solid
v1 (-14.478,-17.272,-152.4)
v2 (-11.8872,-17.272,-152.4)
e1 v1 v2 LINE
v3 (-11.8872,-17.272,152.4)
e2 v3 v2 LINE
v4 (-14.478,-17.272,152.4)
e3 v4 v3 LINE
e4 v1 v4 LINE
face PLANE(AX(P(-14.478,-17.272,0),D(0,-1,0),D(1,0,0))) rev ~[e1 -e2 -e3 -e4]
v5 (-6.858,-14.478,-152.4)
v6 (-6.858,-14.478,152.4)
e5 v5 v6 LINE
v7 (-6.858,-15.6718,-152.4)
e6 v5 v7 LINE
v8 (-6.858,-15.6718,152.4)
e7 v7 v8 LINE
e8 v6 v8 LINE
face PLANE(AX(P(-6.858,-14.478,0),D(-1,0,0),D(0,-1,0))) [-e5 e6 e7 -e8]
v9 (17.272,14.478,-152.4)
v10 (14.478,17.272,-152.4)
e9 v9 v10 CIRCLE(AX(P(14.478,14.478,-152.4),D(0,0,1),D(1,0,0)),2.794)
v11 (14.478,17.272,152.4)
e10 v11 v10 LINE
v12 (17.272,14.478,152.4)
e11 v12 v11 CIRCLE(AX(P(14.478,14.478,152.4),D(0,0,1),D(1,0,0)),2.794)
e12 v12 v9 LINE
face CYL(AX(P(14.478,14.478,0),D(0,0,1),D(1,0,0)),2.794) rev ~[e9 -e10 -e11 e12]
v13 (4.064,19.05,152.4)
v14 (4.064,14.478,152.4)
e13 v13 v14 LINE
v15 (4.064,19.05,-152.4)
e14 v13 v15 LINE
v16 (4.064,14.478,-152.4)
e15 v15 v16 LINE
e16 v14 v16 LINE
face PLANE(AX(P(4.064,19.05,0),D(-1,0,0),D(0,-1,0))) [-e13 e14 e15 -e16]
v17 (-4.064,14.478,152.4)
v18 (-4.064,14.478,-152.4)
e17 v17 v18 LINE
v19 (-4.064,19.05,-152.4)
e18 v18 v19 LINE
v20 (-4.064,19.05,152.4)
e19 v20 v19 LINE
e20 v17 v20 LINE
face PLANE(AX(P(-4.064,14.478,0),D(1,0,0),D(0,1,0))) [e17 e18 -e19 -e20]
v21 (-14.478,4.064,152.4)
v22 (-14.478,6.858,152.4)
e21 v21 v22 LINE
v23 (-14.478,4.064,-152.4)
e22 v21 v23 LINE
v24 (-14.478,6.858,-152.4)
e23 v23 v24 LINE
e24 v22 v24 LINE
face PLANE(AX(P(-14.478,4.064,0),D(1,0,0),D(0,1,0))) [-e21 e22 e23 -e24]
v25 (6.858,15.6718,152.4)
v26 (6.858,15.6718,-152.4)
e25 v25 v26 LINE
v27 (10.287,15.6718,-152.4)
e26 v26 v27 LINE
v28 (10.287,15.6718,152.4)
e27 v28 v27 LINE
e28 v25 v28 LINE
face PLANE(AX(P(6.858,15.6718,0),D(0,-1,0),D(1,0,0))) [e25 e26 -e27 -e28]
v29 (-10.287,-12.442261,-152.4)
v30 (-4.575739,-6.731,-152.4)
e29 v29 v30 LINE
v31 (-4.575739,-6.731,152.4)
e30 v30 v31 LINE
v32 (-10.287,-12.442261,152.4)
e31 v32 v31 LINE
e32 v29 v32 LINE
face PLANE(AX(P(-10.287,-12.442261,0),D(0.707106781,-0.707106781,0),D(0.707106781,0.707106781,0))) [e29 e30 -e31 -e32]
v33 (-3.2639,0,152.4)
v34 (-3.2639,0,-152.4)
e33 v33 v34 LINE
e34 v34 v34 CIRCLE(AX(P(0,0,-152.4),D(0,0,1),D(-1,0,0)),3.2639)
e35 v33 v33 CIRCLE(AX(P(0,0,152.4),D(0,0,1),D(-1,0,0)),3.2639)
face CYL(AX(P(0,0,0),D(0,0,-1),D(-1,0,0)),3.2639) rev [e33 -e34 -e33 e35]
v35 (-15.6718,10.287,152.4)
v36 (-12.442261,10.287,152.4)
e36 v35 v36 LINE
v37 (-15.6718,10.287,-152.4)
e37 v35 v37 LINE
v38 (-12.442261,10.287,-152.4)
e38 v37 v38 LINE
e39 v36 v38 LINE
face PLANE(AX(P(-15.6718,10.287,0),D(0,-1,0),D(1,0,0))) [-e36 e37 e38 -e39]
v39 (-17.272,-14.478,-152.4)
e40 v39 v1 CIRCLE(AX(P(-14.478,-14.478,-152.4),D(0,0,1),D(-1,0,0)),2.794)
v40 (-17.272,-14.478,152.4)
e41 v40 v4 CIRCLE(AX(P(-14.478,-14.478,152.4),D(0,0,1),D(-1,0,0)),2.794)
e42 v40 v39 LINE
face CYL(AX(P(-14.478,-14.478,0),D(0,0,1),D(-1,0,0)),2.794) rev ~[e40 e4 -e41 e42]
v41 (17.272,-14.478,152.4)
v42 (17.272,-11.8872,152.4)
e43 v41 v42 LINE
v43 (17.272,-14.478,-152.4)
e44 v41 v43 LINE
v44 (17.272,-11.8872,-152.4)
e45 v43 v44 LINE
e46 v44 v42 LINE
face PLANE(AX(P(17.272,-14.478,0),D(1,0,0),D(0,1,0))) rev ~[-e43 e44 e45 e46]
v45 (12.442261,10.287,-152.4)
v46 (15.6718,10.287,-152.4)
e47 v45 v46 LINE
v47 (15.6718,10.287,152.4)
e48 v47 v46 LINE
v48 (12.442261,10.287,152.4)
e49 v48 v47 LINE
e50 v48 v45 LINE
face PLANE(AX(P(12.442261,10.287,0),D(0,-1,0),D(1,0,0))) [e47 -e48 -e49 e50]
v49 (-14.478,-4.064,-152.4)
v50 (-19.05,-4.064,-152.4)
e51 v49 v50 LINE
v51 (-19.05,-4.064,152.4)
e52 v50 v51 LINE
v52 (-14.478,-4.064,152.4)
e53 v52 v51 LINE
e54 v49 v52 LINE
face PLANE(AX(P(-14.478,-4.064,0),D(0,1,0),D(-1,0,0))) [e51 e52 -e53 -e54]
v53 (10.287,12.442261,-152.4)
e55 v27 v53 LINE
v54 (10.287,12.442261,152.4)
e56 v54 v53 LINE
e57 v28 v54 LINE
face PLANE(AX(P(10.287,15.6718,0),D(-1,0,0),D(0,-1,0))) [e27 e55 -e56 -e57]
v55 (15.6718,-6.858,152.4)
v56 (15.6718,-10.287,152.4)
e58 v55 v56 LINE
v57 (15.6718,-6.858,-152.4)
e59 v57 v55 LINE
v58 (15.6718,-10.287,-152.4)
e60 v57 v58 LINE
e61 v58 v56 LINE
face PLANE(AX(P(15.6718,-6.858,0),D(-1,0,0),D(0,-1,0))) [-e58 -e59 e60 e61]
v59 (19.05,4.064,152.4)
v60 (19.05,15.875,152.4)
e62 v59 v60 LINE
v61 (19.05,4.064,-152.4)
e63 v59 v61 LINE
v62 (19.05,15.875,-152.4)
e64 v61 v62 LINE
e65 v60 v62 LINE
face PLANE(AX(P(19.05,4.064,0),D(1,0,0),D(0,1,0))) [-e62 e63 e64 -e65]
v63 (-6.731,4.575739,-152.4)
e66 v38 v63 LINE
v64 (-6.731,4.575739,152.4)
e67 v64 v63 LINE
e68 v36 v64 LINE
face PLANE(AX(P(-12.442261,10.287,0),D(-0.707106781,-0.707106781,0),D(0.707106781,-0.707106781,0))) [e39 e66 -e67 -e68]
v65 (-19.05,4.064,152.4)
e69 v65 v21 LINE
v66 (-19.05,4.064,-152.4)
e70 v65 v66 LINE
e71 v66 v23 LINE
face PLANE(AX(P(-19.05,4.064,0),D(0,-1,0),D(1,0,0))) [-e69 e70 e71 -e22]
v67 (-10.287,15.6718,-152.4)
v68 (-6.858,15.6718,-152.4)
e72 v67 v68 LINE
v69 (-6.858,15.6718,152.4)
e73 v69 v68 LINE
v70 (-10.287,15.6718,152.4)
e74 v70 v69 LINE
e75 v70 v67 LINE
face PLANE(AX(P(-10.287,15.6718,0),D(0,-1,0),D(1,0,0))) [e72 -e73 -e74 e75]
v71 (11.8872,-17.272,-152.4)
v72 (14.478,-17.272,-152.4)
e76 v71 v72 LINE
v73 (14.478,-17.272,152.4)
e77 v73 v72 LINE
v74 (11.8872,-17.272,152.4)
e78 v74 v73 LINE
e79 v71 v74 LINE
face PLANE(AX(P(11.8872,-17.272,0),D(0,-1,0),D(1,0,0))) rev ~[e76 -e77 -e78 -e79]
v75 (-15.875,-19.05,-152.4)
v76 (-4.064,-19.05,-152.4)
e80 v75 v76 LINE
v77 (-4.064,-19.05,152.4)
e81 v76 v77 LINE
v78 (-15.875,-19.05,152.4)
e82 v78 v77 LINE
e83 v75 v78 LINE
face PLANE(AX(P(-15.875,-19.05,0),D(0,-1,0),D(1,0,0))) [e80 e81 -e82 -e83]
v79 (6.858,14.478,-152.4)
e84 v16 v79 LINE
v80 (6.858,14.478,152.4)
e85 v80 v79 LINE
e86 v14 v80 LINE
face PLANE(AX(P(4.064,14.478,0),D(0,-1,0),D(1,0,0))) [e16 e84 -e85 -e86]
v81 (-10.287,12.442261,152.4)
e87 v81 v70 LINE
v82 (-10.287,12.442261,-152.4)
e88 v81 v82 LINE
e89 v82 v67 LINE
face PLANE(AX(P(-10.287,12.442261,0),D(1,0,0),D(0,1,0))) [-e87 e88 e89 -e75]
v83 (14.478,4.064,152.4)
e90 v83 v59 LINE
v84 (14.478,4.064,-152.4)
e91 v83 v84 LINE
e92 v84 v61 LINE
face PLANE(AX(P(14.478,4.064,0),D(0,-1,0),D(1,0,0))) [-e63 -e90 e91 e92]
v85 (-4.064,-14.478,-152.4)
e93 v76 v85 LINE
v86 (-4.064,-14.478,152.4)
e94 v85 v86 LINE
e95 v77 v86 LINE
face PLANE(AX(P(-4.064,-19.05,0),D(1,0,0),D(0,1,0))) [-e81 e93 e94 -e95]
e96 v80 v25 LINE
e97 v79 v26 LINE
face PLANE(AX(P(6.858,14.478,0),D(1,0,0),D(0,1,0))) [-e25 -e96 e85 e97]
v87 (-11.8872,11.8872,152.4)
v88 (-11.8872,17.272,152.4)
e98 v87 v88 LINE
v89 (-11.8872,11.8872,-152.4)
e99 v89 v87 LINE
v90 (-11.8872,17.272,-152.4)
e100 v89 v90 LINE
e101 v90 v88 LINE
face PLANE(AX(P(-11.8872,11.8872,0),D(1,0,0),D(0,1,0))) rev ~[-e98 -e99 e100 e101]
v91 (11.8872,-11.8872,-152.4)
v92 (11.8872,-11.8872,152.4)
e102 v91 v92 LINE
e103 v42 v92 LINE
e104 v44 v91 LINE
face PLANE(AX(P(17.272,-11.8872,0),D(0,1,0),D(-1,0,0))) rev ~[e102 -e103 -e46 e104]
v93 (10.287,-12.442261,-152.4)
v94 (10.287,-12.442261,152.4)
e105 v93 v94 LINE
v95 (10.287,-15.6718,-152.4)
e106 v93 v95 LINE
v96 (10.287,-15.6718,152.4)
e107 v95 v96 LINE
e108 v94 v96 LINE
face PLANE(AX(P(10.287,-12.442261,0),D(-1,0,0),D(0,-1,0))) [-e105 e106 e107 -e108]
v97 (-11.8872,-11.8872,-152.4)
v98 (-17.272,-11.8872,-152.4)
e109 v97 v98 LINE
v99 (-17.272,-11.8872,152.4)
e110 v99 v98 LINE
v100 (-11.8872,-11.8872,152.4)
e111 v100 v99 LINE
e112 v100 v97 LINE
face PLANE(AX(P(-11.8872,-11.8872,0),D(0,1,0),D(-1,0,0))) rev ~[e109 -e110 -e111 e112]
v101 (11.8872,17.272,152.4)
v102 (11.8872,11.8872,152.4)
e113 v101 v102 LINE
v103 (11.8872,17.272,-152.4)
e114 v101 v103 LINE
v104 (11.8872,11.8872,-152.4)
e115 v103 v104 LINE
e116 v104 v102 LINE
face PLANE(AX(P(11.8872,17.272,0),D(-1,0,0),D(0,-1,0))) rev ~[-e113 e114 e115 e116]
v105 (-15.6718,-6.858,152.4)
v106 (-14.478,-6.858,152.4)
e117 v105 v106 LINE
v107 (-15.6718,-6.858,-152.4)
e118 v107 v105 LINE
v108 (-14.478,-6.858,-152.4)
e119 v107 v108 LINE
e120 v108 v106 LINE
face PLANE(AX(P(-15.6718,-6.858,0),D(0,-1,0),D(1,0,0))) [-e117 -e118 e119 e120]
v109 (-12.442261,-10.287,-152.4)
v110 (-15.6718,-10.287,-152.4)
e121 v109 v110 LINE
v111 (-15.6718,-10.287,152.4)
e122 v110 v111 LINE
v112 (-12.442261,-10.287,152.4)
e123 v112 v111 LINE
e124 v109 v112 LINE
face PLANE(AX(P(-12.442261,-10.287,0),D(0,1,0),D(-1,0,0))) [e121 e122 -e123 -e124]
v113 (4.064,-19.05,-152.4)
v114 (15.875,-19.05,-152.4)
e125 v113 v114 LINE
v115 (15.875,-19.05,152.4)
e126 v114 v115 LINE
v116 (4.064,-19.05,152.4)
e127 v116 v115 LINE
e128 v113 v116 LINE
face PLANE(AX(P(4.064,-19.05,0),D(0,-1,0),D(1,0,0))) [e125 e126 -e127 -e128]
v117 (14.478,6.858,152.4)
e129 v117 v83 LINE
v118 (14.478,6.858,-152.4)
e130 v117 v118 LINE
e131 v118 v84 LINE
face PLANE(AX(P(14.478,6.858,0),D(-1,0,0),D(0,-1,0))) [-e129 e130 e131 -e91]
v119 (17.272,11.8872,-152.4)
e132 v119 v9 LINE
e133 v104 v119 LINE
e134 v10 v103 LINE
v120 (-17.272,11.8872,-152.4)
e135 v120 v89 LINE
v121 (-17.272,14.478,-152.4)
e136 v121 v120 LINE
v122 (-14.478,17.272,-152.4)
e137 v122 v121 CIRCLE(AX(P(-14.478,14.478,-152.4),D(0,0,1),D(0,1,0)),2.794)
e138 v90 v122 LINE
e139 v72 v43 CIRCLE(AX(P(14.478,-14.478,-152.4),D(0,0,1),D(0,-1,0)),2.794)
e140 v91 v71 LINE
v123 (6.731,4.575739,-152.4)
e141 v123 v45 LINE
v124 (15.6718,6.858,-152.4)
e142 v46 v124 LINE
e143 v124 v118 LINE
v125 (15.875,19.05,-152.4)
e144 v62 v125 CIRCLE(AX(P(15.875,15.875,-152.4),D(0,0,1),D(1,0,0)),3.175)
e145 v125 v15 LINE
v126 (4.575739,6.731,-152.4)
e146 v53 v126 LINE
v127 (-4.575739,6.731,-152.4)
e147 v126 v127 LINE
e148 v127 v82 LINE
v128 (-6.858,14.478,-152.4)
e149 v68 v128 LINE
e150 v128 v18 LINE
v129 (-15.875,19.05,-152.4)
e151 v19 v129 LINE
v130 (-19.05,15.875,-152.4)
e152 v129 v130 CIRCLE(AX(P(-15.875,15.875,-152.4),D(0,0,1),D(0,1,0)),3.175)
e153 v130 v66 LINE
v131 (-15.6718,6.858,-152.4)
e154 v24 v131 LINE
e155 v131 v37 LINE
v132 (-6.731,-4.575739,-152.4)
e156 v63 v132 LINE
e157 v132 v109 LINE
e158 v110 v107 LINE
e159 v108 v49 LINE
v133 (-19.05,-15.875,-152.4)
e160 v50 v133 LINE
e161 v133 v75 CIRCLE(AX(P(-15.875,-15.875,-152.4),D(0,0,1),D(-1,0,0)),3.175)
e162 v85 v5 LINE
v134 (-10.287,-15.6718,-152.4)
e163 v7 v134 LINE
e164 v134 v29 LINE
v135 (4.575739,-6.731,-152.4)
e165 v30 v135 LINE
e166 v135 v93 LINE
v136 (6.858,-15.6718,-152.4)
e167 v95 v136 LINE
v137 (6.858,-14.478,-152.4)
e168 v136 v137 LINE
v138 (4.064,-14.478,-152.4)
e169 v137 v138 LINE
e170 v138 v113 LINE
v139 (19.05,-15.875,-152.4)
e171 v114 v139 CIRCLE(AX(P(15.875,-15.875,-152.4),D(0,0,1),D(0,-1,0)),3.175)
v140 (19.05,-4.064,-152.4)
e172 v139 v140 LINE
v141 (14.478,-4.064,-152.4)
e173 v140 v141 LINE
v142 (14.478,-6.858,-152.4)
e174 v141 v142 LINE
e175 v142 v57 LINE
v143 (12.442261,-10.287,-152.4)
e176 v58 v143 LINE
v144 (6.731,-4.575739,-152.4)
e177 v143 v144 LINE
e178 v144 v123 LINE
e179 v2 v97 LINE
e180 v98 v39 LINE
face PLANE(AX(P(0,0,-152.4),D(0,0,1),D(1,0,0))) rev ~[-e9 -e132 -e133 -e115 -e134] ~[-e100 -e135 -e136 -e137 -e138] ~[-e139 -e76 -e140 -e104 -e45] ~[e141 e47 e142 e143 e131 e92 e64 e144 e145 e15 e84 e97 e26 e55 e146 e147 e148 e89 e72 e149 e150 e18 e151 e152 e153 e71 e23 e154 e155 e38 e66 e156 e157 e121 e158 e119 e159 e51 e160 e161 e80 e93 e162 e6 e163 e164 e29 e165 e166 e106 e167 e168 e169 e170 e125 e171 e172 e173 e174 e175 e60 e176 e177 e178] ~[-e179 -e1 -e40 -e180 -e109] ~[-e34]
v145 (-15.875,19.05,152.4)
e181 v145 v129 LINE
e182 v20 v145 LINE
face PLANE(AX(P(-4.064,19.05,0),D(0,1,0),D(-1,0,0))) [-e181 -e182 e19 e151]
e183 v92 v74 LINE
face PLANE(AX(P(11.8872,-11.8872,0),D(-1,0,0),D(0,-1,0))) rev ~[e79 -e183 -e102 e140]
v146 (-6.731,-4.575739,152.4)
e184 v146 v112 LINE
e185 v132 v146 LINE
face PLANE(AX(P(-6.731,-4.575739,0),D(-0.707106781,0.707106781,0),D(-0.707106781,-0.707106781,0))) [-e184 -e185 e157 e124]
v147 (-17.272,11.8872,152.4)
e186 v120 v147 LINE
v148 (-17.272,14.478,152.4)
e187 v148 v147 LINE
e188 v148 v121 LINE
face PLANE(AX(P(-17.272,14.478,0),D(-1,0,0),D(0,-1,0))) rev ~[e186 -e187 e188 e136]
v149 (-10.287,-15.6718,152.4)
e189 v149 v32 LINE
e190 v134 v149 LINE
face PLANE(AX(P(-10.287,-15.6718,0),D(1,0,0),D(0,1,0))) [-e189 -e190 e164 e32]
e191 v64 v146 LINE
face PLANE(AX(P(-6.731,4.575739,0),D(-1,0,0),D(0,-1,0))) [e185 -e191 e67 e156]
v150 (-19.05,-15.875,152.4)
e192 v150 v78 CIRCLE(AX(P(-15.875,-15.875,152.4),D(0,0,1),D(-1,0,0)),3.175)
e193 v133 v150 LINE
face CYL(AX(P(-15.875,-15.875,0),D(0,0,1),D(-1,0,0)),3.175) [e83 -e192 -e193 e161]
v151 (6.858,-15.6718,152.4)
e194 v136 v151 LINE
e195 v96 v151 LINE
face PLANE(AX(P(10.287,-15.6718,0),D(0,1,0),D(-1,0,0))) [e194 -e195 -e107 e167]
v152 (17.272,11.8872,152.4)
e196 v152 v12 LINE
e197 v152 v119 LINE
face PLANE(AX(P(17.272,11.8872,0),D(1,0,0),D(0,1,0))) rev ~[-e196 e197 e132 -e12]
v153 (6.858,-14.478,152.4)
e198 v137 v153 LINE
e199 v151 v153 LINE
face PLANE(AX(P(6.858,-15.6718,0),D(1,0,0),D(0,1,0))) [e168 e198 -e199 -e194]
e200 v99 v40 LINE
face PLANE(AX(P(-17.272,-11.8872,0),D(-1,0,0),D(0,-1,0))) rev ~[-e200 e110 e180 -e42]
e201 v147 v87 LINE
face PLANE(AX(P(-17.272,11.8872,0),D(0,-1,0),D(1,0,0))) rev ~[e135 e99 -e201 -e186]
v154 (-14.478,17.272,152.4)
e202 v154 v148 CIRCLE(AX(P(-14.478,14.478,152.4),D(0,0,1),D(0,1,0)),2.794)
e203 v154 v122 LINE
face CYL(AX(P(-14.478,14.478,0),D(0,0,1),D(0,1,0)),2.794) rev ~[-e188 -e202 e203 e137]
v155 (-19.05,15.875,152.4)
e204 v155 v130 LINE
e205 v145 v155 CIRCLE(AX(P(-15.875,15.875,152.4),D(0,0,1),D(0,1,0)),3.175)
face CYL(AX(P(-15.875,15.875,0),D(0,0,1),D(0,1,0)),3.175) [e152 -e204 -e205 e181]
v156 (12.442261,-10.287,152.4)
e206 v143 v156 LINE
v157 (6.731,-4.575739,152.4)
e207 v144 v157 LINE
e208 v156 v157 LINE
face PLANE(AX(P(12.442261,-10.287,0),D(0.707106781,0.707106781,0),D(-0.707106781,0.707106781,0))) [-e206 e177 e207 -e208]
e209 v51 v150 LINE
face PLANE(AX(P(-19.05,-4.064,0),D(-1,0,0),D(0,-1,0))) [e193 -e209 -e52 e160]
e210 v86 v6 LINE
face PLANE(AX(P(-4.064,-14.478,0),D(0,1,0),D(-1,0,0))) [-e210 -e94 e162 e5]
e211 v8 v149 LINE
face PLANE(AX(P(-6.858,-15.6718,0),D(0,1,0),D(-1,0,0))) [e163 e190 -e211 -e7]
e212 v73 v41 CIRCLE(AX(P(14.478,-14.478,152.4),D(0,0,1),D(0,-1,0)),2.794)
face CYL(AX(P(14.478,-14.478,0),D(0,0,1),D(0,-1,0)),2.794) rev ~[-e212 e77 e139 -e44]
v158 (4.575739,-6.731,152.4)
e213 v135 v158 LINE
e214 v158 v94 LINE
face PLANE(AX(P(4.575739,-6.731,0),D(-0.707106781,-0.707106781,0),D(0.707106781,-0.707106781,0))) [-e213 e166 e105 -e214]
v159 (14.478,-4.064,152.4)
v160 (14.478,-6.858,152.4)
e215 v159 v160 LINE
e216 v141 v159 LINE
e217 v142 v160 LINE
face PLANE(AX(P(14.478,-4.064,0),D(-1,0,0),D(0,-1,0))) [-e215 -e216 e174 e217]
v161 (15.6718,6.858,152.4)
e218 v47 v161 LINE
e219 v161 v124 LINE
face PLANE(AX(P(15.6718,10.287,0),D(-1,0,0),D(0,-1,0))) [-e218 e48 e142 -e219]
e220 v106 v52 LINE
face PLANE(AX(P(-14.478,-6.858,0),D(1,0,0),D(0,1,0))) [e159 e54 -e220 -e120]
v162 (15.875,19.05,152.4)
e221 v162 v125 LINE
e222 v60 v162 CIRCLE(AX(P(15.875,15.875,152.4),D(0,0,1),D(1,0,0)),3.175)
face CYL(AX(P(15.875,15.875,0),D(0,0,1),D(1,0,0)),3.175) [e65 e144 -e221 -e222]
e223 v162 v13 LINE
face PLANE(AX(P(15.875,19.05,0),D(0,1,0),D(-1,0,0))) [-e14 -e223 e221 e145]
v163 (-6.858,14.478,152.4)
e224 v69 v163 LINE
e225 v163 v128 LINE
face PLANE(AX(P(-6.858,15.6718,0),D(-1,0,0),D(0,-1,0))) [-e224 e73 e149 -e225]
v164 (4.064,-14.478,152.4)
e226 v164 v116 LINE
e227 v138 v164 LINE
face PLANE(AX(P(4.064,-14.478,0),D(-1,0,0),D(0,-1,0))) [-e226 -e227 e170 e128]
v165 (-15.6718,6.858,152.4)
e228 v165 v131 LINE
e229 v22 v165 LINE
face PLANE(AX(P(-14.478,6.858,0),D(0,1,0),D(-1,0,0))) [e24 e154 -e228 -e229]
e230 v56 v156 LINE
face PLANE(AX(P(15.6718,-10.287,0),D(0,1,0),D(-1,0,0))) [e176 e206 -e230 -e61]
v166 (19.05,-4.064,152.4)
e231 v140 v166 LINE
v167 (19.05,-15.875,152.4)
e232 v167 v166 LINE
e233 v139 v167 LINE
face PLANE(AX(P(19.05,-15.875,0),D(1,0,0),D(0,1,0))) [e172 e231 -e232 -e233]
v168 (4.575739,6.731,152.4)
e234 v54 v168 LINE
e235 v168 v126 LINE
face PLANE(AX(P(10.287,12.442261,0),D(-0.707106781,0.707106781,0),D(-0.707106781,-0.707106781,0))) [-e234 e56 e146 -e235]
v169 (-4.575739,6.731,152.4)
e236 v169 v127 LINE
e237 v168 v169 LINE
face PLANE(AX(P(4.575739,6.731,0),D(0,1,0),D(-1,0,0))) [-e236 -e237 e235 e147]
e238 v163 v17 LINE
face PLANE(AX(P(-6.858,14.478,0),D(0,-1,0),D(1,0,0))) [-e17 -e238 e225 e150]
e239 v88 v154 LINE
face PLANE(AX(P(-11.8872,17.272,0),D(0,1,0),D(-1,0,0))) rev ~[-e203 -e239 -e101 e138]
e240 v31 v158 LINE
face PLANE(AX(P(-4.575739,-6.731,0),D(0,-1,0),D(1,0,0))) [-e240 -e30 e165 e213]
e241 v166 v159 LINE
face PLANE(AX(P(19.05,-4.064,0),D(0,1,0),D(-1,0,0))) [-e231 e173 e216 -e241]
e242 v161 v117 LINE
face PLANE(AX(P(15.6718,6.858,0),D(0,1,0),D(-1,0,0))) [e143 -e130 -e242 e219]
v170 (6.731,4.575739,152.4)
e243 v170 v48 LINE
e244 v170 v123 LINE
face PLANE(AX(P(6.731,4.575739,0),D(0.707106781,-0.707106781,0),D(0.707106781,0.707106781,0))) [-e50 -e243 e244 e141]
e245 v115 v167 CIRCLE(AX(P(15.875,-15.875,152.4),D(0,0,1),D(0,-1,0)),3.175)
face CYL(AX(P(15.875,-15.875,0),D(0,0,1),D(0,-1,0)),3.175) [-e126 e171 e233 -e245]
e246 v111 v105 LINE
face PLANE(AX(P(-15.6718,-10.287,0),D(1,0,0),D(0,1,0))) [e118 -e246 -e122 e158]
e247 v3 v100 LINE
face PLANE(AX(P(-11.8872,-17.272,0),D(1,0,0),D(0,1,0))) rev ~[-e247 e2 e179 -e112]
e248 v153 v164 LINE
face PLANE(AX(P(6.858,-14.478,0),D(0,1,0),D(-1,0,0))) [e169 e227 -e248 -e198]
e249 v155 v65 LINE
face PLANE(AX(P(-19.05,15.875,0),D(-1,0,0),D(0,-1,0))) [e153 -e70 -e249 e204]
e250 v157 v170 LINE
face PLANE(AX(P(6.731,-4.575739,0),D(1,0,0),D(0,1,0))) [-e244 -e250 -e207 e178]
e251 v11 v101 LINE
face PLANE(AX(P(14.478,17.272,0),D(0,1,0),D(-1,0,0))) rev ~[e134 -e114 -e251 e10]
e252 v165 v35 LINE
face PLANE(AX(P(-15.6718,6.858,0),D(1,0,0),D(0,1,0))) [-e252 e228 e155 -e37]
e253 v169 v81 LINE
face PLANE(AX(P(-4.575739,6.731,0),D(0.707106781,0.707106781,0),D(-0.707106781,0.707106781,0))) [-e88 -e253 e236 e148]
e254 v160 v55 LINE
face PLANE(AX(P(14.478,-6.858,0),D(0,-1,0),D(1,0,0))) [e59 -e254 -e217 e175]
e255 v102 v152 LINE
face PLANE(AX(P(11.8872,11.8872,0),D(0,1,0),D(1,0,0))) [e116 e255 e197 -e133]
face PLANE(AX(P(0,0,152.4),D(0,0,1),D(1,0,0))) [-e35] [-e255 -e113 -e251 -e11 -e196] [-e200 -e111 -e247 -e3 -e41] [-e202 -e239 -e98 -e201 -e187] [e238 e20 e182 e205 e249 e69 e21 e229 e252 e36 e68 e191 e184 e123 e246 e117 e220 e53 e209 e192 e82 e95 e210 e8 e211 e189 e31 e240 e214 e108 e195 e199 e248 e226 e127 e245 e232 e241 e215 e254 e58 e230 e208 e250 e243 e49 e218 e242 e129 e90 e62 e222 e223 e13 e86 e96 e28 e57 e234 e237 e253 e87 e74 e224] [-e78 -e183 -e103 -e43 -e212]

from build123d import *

# Parameters (mm, degrees)
SKETCH1_R           = 3.2639
BOSS_EXTRUDE1_DEPTH = 152.4


with BuildPart() as part:
    # Sketch1 → Boss-Extrude1 (new, symmetric)
    with BuildSketch(Plane.XY):
        with BuildLine():
            Line((-6.731, 4.575738531), (-6.731, -4.575738531))
            Line((-6.731, -4.575738531), (-12.442261469, -10.287))
            Line((-12.442261469, -10.287), (-15.6718, -10.287))
            Line((-15.6718, -10.287), (-15.6718, -6.858))
            Line((-15.6718, -6.858), (-14.478, -6.858))
            Line((-14.478, -6.858), (-14.478, -4.064))
            Line((-14.478, -4.064), (-19.05, -4.064))
            Line((-19.05, -4.064), (-19.05, -15.875))
            ThreePointArc((-19.05, -15.875), (-18.12006403, -18.12006403), (-15.875, -19.05))
            Line((-15.875, -19.05), (-4.064, -19.05))
            Line((-4.064, -19.05), (-4.064, -14.478))
            Line((-4.064, -14.478), (-6.858, -14.478))
            Line((-6.858, -14.478), (-6.858, -15.6718))
            Line((-6.858, -15.6718), (-10.287, -15.6718))
            Line((-10.287, -15.6718), (-10.287, -12.442261469))
            Line((-10.287, -12.442261469), (-4.575738531, -6.731))
            Line((-4.575738531, -6.731), (4.575738531, -6.731))
            Line((4.575738531, -6.731), (10.287, -12.442261469))
            Line((10.287, -12.442261469), (10.287, -15.6718))
            Line((10.287, -15.6718), (6.858, -15.6718))
            Line((6.858, -15.6718), (6.858, -14.478))
            Line((6.858, -14.478), (4.064, -14.478))
            Line((4.064, -14.478), (4.064, -19.05))
            Line((4.064, -19.05), (15.875, -19.05))
            ThreePointArc((15.875, -19.05), (18.12006403, -18.12006403), (19.05, -15.875))
            Line((19.05, -15.875), (19.05, -4.064))
            Line((19.05, -4.064), (14.478, -4.064))
            Line((14.478, -4.064), (14.478, -6.858))
            Line((14.478, -6.858), (15.6718, -6.858))
            Line((15.6718, -6.858), (15.6718, -10.287))
            Line((15.6718, -10.287), (12.442261469, -10.287))
            Line((12.442261469, -10.287), (6.731, -4.575738531))
            Line((6.731, -4.575738531), (6.731, 4.575738531))
            Line((6.731, 4.575738531), (12.442261469, 10.287))
            Line((12.442261469, 10.287), (15.6718, 10.287))
            Line((15.6718, 10.287), (15.6718, 6.858))
            Line((15.6718, 6.858), (14.478, 6.858))
            Line((14.478, 6.858), (14.478, 4.064))
            Line((14.478, 4.064), (19.05, 4.064))
            Line((19.05, 4.064), (19.05, 15.875))
            ThreePointArc((19.05, 15.875), (18.12006403, 18.12006403), (15.875, 19.05))
            Line((15.875, 19.05), (4.064, 19.05))
            Line((4.064, 19.05), (4.064, 14.478))
            Line((4.064, 14.478), (6.858, 14.478))
            Line((6.858, 14.478), (6.858, 15.6718))
            Line((6.858, 15.6718), (10.287, 15.6718))
            Line((10.287, 15.6718), (10.287, 12.442261469))
            Line((10.287, 12.442261469), (4.575738531, 6.731))
            Line((4.575738531, 6.731), (-4.575738531, 6.731))
            Line((-4.575738531, 6.731), (-10.287, 12.442261469))
            Line((-10.287, 12.442261469), (-10.287, 15.6718))
            Line((-10.287, 15.6718), (-6.858, 15.6718))
            Line((-6.858, 15.6718), (-6.858, 14.478))
            Line((-6.858, 14.478), (-4.064, 14.478))
            Line((-4.064, 14.478), (-4.064, 19.05))
            Line((-4.064, 19.05), (-15.875, 19.05))
            ThreePointArc((-15.875, 19.05), (-18.12006403, 18.12006403), (-19.05, 15.875))
            Line((-19.05, 15.875), (-19.05, 4.064))
            Line((-19.05, 4.064), (-14.478, 4.064))
            Line((-14.478, 4.064), (-14.478, 6.858))
            Line((-14.478, 6.858), (-15.6718, 6.858))
            Line((-15.6718, 6.858), (-15.6718, 10.287))
            Line((-15.6718, 10.287), (-12.442261469, 10.287))
            Line((-12.442261469, 10.287), (-6.731, 4.575738531))
        make_face()
        with Locations(Location((0, 0, 0), (0, 0, 180))):
            Circle(SKETCH1_R, mode=Mode.SUBTRACT)
        with BuildLine():
            Line((-11.8872, 17.272), (-14.478, 17.272))
            ThreePointArc((-14.478, 17.272), (-16.453656347, 16.453656347), (-17.272, 14.478))
            Line((-17.272, 14.478), (-17.272, 11.8872))
            Line((-17.272, 11.8872), (-11.8872, 11.8872))
            Line((-11.8872, 11.8872), (-11.8872, 17.272))
        make_face(mode=Mode.SUBTRACT)
        with BuildLine():
            Line((14.478, 17.272), (11.8872, 17.272))
            Line((11.8872, 17.272), (11.8872, 11.8872))
            Line((11.8872, 11.8872), (17.272, 11.8872))
            Line((17.272, 11.8872), (17.272, 14.478))
            ThreePointArc((17.272, 14.478), (16.453656347, 16.453656347), (14.478, 17.272))
        make_face(mode=Mode.SUBTRACT)
        with BuildLine():
            Line((11.8872, -17.272), (14.478, -17.272))
            ThreePointArc((14.478, -17.272), (16.453656347, -16.453656347), (17.272, -14.478))
            Line((17.272, -14.478), (17.272, -11.8872))
            Line((17.272, -11.8872), (11.8872, -11.8872))
            Line((11.8872, -11.8872), (11.8872, -17.272))
        make_face(mode=Mode.SUBTRACT)
        with BuildLine():
            Line((-14.478, -17.272), (-11.8872, -17.272))
            Line((-11.8872, -17.272), (-11.8872, -11.8872))
            Line((-11.8872, -11.8872), (-17.272, -11.8872))
            Line((-17.272, -11.8872), (-17.272, -14.478))
            ThreePointArc((-17.272, -14.478), (-16.453656347, -16.453656347), (-14.478, -17.272))
        make_face(mode=Mode.SUBTRACT)
    extrude(amount=BOSS_EXTRUDE1_DEPTH, both=True)


solid = part.part
